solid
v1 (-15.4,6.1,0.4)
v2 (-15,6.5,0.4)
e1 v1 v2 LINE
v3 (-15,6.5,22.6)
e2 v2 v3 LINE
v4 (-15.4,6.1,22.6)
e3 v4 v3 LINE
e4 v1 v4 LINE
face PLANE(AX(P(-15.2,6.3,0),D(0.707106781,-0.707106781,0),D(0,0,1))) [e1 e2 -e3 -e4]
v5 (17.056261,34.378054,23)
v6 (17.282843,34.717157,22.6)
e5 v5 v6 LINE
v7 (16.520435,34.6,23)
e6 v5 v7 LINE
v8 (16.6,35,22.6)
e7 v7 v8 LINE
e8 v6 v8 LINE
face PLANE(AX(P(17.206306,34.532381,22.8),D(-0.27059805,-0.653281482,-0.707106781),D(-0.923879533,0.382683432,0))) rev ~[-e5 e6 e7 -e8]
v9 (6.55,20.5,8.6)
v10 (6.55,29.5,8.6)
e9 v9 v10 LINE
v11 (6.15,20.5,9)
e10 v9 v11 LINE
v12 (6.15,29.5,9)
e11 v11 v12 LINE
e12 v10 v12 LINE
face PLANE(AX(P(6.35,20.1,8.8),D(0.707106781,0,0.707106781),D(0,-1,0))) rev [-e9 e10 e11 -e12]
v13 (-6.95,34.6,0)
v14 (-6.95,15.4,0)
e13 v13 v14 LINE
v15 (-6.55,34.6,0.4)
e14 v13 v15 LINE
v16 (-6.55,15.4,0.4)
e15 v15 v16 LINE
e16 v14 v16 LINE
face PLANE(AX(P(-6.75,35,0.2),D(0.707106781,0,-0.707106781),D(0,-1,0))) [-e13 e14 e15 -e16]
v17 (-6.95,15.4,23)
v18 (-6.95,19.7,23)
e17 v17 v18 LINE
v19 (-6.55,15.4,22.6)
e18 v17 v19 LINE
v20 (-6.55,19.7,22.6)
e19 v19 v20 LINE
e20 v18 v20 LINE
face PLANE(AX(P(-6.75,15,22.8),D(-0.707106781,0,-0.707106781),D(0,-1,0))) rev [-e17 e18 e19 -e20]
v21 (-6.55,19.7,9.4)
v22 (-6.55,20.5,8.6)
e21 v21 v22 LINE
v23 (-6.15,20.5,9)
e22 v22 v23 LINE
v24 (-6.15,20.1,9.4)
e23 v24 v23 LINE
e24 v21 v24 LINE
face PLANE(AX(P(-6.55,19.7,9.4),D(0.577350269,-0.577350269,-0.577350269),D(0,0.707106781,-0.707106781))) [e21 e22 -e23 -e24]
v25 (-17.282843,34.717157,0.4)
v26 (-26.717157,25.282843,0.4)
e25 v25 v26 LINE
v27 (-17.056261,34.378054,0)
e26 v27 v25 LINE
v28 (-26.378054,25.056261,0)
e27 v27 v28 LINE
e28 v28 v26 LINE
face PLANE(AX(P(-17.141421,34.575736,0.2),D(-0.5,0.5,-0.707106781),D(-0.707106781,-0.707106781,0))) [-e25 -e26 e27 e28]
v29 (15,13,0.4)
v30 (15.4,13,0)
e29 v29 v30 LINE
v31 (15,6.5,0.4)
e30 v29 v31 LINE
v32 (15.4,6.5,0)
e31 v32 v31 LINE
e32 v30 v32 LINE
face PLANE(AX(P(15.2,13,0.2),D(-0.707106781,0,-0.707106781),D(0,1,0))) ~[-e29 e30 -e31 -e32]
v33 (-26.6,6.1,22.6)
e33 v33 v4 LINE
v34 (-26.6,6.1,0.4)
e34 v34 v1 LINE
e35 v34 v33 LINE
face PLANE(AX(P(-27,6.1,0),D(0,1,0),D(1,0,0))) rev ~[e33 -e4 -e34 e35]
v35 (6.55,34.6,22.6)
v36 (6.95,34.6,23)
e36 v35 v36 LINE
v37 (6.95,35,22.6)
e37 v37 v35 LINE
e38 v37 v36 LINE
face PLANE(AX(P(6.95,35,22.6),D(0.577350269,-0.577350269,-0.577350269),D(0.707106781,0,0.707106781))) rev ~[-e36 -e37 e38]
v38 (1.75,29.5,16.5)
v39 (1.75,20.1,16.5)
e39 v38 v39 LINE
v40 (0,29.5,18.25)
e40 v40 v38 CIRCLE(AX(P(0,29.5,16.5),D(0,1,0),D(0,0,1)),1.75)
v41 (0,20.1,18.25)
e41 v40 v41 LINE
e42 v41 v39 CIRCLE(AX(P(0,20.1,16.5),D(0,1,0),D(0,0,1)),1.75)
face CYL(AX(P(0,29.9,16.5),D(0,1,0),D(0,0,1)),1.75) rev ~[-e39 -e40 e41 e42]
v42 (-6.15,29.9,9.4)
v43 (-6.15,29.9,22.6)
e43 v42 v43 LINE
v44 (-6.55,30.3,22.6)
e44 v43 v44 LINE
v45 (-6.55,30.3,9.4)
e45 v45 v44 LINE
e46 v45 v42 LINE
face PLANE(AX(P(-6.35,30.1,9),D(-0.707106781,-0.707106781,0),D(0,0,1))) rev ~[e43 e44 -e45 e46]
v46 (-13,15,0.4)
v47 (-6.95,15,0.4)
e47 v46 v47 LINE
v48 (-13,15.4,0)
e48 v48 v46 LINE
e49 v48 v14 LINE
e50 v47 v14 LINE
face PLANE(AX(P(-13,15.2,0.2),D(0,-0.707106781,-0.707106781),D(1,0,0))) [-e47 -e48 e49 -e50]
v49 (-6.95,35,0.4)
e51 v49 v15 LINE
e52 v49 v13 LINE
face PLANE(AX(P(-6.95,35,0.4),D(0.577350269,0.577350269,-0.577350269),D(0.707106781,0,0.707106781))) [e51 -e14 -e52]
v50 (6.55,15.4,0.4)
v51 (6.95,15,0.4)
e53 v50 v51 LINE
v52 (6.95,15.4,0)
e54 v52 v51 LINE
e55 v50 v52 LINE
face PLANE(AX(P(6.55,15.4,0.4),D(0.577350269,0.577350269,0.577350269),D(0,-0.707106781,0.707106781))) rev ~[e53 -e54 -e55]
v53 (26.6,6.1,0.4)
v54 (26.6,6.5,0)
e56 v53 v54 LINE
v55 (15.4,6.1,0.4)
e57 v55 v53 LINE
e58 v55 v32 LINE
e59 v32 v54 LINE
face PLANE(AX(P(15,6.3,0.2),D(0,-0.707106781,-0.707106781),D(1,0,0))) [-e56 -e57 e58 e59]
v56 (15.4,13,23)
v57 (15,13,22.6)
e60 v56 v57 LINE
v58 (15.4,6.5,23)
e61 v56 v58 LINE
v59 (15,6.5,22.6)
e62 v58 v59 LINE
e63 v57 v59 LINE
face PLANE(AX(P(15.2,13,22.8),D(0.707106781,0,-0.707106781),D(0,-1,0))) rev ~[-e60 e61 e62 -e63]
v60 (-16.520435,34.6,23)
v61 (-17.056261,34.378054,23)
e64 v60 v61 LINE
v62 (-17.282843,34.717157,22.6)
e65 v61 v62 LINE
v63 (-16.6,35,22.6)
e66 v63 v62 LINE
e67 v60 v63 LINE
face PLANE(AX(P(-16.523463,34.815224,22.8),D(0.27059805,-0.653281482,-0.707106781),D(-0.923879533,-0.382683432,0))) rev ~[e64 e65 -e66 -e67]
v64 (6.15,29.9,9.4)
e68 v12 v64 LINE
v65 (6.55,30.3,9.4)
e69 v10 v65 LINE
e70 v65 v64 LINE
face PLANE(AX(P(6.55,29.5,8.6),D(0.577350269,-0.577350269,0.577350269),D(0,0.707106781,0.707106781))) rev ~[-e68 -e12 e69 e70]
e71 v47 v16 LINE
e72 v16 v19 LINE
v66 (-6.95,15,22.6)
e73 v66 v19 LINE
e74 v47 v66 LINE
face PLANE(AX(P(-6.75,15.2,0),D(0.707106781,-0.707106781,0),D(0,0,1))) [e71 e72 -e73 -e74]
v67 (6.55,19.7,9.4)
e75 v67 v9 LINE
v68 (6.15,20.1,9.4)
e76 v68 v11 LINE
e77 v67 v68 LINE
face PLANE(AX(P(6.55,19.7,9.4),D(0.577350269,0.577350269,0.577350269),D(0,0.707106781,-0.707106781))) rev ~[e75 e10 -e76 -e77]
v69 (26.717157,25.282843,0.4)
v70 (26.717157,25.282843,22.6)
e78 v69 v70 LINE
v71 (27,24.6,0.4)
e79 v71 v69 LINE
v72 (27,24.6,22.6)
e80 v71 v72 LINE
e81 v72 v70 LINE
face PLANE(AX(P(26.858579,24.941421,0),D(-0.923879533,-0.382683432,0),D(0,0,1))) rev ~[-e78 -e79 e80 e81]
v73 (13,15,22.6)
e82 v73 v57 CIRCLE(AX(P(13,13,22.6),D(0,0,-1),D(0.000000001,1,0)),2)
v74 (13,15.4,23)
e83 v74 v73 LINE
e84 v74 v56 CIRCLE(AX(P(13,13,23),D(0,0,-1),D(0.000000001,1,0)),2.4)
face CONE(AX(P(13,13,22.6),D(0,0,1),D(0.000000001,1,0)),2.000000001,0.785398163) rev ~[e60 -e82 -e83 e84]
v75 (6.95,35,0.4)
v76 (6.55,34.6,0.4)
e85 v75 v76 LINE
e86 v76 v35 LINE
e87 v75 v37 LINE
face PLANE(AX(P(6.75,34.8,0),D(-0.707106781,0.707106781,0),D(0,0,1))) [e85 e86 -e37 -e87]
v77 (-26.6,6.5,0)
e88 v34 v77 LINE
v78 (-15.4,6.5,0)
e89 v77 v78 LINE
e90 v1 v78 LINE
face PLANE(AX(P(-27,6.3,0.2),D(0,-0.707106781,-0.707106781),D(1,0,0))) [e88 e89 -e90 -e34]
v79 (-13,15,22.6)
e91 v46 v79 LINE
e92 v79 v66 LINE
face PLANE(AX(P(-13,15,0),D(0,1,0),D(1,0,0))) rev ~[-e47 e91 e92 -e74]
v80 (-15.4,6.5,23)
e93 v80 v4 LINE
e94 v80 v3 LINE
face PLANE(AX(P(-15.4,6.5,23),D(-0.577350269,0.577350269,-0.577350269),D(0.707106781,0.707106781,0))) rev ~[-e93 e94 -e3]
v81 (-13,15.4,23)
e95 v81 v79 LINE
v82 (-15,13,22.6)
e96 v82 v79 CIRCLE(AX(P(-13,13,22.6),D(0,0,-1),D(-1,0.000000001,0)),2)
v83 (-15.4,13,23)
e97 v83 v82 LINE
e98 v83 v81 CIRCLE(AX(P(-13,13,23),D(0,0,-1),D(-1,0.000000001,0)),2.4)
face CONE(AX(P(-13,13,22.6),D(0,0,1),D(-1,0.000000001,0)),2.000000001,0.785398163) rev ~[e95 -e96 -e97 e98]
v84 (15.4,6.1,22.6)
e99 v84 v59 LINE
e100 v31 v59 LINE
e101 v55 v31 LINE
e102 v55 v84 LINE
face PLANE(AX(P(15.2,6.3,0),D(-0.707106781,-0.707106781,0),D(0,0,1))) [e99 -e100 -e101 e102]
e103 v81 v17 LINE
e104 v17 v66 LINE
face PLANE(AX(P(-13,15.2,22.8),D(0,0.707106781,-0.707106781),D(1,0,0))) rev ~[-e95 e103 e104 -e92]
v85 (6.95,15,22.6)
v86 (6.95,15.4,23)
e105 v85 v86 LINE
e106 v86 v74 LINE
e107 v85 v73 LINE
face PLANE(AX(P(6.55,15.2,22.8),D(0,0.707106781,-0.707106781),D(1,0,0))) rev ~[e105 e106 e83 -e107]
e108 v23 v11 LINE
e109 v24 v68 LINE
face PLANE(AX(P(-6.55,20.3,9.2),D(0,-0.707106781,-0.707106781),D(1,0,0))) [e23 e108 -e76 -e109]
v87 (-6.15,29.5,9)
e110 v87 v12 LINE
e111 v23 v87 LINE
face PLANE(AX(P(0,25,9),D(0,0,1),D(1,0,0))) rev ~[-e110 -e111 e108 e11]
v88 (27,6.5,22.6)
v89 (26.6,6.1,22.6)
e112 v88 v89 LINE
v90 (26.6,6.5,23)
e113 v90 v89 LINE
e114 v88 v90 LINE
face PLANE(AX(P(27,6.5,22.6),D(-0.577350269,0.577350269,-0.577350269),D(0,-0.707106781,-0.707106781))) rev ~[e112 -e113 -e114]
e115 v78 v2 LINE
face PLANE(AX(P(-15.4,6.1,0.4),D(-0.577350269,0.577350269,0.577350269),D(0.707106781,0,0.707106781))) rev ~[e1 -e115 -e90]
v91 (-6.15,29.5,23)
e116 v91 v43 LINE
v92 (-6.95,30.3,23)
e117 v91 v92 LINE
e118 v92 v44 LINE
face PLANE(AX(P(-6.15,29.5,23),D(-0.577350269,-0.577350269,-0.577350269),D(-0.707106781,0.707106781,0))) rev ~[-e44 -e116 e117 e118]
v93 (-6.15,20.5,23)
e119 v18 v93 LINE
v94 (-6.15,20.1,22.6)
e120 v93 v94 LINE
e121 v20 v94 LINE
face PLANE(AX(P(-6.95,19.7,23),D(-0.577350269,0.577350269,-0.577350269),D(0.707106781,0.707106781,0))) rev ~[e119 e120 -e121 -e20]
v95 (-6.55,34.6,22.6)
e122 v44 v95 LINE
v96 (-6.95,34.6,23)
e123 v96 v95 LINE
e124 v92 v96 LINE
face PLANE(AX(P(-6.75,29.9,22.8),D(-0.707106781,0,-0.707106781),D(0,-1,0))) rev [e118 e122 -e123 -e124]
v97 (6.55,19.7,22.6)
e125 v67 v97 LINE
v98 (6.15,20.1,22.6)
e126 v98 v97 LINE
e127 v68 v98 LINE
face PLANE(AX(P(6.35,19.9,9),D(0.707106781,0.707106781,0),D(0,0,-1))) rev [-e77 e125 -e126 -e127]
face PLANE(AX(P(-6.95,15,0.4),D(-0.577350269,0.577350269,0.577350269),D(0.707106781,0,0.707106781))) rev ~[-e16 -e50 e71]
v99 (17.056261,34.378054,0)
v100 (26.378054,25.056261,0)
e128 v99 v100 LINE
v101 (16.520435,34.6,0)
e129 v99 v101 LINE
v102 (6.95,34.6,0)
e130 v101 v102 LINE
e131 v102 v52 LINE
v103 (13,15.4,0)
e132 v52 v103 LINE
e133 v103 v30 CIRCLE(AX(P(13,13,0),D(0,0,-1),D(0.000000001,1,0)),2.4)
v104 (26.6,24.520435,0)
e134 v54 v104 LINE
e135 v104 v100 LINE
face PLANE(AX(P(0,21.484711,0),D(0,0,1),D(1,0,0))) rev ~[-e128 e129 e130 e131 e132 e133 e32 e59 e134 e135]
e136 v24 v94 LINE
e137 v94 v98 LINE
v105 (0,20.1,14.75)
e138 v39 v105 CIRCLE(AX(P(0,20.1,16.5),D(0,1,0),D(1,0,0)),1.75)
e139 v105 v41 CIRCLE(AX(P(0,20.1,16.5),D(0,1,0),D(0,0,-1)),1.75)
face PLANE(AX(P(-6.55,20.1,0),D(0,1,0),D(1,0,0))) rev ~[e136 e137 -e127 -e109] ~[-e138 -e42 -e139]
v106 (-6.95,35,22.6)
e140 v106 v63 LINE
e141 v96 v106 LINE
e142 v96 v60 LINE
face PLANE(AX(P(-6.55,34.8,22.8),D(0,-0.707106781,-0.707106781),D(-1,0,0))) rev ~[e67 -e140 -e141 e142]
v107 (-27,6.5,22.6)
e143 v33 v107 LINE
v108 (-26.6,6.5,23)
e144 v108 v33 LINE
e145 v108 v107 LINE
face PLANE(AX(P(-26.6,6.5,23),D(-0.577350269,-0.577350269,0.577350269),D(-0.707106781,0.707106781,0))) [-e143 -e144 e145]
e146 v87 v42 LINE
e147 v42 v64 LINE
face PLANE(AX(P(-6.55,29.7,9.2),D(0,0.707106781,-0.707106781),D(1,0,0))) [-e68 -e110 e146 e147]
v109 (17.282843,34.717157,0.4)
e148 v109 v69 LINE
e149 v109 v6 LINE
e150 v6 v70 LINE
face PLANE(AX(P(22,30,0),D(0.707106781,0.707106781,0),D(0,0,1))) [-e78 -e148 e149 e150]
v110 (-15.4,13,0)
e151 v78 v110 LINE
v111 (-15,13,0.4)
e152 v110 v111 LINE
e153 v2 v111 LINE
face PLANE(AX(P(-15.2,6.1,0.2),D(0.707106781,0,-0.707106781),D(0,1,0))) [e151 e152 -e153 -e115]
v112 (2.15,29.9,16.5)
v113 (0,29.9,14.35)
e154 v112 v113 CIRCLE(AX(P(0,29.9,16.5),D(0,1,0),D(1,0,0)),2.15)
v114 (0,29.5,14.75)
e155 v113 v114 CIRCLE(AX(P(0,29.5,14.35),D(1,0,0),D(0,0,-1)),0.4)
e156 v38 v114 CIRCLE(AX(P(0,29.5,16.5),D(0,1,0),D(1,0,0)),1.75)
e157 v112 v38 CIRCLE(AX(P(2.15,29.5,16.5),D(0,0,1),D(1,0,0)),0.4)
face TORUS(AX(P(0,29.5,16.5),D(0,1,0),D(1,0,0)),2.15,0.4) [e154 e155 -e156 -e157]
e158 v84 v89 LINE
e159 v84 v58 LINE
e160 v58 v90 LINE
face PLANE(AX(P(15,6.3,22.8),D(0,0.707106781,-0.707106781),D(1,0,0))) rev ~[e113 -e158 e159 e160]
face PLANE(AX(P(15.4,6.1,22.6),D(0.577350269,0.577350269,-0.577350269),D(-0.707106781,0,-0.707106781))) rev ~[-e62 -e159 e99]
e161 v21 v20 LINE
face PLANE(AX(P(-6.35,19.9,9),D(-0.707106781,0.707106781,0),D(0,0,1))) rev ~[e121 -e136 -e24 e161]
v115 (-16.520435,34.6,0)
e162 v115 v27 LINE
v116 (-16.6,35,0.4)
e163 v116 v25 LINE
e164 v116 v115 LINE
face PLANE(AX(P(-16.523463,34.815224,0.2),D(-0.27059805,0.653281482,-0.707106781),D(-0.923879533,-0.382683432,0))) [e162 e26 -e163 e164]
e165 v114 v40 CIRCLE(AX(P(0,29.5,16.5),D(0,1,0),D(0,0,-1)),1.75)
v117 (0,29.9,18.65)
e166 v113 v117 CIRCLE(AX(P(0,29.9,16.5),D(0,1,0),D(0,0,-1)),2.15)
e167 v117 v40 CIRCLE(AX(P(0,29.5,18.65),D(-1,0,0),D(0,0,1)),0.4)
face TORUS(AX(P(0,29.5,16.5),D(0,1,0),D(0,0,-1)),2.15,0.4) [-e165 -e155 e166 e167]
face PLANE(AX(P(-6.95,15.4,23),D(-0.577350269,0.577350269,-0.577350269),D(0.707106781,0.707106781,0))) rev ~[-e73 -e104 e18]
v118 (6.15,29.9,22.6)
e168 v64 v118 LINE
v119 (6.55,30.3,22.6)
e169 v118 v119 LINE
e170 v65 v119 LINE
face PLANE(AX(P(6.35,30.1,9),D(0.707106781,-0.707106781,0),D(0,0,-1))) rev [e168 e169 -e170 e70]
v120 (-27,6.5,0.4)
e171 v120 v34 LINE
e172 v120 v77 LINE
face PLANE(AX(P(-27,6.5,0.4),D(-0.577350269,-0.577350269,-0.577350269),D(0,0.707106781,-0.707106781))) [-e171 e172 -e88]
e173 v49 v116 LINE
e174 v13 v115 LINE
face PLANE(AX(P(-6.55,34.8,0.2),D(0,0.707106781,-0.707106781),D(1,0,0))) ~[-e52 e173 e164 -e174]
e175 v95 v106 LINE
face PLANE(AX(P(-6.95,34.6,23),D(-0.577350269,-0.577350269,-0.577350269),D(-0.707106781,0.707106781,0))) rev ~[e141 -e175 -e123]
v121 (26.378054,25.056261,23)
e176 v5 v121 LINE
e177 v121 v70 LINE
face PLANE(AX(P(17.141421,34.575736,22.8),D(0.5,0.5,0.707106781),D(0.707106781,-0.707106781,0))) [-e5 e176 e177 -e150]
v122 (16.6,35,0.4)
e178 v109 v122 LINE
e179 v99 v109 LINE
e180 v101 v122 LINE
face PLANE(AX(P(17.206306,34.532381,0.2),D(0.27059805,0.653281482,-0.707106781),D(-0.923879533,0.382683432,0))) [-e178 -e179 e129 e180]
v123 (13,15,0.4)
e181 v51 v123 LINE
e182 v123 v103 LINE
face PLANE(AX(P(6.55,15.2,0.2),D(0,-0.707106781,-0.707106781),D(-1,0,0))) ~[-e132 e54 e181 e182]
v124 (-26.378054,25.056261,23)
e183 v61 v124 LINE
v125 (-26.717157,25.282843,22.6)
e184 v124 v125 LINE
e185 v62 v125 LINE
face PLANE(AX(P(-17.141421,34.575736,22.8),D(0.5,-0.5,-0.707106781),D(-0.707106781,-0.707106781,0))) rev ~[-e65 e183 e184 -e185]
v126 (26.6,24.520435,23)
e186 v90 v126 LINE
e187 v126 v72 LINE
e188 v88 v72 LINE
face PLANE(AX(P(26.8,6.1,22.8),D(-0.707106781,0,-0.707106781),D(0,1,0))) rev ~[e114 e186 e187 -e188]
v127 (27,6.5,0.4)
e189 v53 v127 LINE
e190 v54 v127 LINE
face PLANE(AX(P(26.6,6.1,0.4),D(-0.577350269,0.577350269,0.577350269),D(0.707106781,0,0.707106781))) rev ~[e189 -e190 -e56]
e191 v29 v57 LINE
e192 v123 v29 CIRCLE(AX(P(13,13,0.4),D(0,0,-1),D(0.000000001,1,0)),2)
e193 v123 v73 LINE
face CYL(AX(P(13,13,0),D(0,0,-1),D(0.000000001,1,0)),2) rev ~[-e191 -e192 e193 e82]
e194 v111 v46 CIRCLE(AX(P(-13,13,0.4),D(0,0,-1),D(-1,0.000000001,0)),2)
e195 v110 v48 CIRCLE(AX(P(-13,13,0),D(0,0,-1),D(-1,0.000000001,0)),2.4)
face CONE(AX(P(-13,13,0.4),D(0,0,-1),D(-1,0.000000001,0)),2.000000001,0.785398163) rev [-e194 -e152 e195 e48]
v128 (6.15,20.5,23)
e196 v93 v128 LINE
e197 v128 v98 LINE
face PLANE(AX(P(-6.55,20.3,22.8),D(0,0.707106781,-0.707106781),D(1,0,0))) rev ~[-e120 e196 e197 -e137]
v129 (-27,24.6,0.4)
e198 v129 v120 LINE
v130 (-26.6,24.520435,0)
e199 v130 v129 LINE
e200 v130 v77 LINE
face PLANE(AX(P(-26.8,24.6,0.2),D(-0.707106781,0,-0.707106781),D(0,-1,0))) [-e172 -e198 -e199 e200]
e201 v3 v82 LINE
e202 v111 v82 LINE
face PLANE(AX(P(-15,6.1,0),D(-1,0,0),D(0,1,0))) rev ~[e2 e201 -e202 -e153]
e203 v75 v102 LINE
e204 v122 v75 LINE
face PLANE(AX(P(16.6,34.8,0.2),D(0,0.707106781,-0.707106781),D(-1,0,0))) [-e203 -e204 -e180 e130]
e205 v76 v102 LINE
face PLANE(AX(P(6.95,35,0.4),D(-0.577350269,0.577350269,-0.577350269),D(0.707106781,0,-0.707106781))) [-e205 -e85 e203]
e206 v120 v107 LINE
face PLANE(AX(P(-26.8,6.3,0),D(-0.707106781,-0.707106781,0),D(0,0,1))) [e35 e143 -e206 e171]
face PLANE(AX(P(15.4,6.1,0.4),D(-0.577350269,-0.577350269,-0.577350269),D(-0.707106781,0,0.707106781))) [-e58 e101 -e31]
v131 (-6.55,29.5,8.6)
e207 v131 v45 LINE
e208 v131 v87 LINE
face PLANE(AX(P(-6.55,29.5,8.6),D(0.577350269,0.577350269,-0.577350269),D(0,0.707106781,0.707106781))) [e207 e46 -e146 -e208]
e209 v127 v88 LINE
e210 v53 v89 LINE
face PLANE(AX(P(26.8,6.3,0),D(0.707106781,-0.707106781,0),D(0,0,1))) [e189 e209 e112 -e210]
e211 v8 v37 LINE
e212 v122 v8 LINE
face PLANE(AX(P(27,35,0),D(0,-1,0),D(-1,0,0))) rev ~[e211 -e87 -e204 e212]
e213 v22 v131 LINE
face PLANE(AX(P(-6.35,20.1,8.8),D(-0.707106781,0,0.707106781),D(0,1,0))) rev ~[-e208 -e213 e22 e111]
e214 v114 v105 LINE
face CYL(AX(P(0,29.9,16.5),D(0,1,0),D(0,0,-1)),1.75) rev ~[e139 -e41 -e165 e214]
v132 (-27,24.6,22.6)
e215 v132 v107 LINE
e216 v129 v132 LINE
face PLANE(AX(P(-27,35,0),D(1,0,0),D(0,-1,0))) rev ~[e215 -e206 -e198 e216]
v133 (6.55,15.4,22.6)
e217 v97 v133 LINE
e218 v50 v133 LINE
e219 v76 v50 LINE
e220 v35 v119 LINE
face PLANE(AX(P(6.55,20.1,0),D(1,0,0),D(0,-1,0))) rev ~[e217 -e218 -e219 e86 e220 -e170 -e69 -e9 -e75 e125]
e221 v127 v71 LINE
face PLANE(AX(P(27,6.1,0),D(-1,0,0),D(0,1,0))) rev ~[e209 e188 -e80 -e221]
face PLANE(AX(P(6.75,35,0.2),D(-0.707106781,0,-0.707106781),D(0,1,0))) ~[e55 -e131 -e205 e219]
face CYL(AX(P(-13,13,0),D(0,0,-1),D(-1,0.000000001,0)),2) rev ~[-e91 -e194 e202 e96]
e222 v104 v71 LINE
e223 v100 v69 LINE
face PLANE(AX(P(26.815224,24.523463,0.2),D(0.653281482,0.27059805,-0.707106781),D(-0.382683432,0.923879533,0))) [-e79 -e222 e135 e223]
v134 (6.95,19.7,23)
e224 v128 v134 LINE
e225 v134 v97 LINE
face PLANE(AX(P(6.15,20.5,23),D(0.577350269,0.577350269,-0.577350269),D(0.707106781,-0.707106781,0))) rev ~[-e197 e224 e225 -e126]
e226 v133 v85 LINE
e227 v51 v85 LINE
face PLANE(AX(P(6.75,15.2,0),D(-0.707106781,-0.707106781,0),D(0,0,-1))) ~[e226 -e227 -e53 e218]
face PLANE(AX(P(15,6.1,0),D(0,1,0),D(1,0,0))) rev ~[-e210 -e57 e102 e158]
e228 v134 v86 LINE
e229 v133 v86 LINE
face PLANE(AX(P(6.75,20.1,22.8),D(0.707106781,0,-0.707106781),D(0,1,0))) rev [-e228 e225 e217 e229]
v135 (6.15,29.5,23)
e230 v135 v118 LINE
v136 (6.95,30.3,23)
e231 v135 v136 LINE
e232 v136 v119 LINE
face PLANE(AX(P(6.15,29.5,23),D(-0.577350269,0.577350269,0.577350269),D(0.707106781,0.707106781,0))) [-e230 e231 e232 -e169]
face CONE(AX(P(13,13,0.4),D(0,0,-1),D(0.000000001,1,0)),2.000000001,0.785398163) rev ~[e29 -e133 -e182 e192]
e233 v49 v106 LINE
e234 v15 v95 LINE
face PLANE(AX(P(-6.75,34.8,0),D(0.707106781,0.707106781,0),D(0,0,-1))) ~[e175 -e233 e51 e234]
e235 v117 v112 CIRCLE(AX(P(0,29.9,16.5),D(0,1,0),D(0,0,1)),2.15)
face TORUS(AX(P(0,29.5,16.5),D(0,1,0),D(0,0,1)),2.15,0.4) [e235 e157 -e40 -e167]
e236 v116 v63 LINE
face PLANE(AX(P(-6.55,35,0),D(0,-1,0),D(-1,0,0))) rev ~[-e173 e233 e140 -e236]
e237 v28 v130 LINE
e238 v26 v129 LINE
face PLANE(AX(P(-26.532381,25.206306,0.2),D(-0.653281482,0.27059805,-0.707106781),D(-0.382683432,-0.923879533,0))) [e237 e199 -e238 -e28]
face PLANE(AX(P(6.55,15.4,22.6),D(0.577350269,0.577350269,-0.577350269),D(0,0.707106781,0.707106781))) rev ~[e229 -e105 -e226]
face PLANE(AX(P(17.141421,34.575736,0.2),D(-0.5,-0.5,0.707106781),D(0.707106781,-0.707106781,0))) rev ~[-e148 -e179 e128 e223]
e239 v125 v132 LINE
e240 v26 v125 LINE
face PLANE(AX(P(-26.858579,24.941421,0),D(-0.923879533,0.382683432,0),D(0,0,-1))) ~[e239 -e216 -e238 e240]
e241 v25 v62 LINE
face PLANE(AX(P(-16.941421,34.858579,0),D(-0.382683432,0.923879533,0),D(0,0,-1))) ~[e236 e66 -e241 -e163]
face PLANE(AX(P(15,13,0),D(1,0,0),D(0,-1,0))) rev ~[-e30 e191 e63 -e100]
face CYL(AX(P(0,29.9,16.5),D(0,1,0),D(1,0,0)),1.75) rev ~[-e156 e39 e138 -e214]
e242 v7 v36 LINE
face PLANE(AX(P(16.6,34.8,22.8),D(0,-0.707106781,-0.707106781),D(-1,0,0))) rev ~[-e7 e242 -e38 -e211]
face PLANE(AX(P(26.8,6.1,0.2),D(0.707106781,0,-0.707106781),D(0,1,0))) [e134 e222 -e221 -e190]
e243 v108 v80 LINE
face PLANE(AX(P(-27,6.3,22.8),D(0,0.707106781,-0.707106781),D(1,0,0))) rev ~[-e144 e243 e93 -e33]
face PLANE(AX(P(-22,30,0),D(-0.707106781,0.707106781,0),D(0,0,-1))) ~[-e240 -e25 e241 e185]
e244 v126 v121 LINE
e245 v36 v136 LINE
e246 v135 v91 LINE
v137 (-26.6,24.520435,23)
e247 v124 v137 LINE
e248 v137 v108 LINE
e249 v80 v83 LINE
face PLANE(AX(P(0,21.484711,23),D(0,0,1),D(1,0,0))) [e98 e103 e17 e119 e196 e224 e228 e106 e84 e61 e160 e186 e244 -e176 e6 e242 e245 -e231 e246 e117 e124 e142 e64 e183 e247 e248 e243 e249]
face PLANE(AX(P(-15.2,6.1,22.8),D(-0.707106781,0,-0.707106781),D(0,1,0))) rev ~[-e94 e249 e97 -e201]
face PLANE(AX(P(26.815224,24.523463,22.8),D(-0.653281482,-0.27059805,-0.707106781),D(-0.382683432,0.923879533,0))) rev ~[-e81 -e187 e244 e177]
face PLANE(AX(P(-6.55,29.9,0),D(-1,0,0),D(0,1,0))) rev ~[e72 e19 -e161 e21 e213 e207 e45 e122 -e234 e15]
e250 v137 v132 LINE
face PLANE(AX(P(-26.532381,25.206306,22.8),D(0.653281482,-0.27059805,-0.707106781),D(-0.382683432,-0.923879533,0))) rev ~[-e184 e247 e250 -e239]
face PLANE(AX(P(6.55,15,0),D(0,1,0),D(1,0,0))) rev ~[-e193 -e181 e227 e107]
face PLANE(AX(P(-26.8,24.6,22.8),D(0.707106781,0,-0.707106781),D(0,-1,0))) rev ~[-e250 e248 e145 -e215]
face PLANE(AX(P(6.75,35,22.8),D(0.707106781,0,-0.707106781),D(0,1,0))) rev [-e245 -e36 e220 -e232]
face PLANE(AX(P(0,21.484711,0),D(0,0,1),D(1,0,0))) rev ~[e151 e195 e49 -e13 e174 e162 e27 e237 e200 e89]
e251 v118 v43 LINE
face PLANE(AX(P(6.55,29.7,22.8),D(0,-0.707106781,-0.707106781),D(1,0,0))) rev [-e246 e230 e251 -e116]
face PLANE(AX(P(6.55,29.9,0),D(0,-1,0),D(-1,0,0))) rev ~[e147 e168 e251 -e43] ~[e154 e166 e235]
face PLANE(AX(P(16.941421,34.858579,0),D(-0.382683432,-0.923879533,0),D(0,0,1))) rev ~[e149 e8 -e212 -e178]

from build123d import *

# Parameters (mm, degrees)
BOSS_EXTRUDE1_DEPTH = 23
SKETCH1_4_W         = 13.1
SKETCH1_4_H         = 9.8
CUT_EXTRUDE1_DEPTH  = 9
CHAMFER4_SIZE       = 10
CHAMFER6_SIZE       = 0.4
CUT_EXTRUDE5_DEPTH  = 43.713463919
FILLET1_R           = 0.4
CHAMFER7_SIZE       = 0.4


with BuildPart() as part:
    # Sketch1 → Boss-Extrude1 (new body)
    with BuildSketch(Plane.XY):
        with BuildLine():
            Line((-27, 6.1), (-15, 6.1))
            Line((-15, 6.1), (-15, 13))
            ThreePointArc((-15, 13), (-14.414213562, 14.414213562), (-13, 15))
            Line((-13, 15), (-6.55, 15))
            Line((-6.55, 15), (-6.55, 20.1))
            Line((-6.55, 20.1), (6.55, 20.1))
            Line((6.55, 20.1), (6.55, 15))
            Line((6.55, 15), (13, 15))
            ThreePointArc((13, 15), (14.414213562, 14.414213562), (15, 13))
            Line((15, 13), (15, 6.1))
            Line((15, 6.1), (27, 6.1))
            Line((27, 6.1), (27, 35))
            Line((27, 35), (6.55, 35))
            Line((6.55, 35), (6.55, 29.9))
            Line((6.55, 29.9), (-6.55, 29.9))
            Line((-6.55, 29.9), (-6.55, 35))
            Line((-6.55, 35), (-27, 35))
            Line((-27, 35), (-27, 6.1))
        make_face()
    extrude(amount=BOSS_EXTRUDE1_DEPTH)

    # Sketch1<4> → Cut-Extrude1 (cut)
    with BuildSketch(Plane.XY):
        with Locations((0, 25)):
            Rectangle(SKETCH1_4_W, SKETCH1_4_H)
    extrude(amount=CUT_EXTRUDE1_DEPTH, mode=Mode.SUBTRACT)

    # Chamfer4
    chamfer4_edges = [part.edges().sort_by_distance(p)[0] for p in [
        (-27, 35, 11.5),
        (27, 35, 11.5),
    ]]
    chamfer(chamfer4_edges, length=CHAMFER4_SIZE)

    # Chamfer6
    chamfer6_edges = [part.edges().sort_by_distance(p)[0] for p in [
        (17, 35, 11.5),
        (27, 25, 11.5),
        (-27, 25, 11.5),
        (-17, 35, 11.5),
    ]]
    chamfer(chamfer6_edges, length=CHAMFER6_SIZE)

    # Sketch6 → Cut-Extrude5 (cut, through all)
    with BuildSketch(Plane(origin=(0, 29.9, 0), x_dir=(1, 0, 0), z_dir=(0, 1, 0))):
        with BuildLine():
            ThreePointArc((1.75, -16.5), (1.237436867, -15.262563133), (0, -14.75))
            Line((0, -14.75), (0, -18.25))
            ThreePointArc((0, -18.25), (1.237436867, -17.737436867), (1.75, -16.5))
        make_face()
        with BuildLine():
            Line((0, -18.25), (0, -14.75))
            ThreePointArc((0, -14.75), (-1.75, -16.5), (0, -18.25))
        make_face()
    extrude(amount=-CUT_EXTRUDE5_DEPTH, mode=Mode.SUBTRACT)

    # Fillet1
    fillet1_edges = [part.edges().sort_by_distance(p)[0] for p in [
        (0, 29.9, 14.75),
    ]]
    fillet(fillet1_edges, radius=FILLET1_R)

    # Chamfer7
    chamfer7_edges = [part.edges().sort_by_distance(p)[0] for p in [
        (15, 9.55, 23),
        (16.941421356, 34.858578644, 0),
        (21, 6.1, 23),
        (27, 15.35, 23),
        (9.775, 15, 0),
        (6.55, 25, 0),
        (-6.55, 25, 0),
        (-9.775, 15, 0),
        (-14.414213562, 14.414213562, 0),
        (-15, 9.55, 0),
        (-21, 6.1, 0),
        (-11.575, 35, 0),
        (27, 15.35, 0),
        (21, 6.1, 0),
        (15, 9.55, 0),
        (14.414213562, 14.414213562, 0),
        (6.55, 32.45, 23),
        (6.55, 15, 11.5),
        (6.55, 20.1, 16),
        (-6.55, 20.1, 16),
        (-6.55, 15, 11.5),
        (-15, 6.1, 11.5),
        (-27, 6.1, 11.5),
        (-6.55, 35, 11.5),
        (-6.55, 29.9, 16),
        (6.55, 29.9, 16),
        (6.55, 35, 11.5),
        (27, 6.1, 11.5),
        (15, 6.1, 11.5),
        (0, 29.9, 23),
        (-6.55, 32.45, 23),
        (-11.575, 35, 23),
        (14.414213562, 14.414213562, 23),
        (-21, 6.1, 23),
        (0, 29.9, 9),
        (6.55, 25, 9),
        (-6.55, 25, 9),
        (0, 20.1, 9),
        (-15, 9.55, 23),
        (-14.414213562, 14.414213562, 23),
        (-9.775, 15, 23),
        (-6.55, 17.55, 23),
        (0, 20.1, 23),
        (-27, 15.35, 23),
        (-27, 15.35, 0),
        (6.55, 17.55, 23),
        (-22, 30, 0),
        (-16.941421356, 34.858578644, 0),
        (-26.858578644, 24.941421356, 0),
        (-22, 30, 23),
        (22, 30, 23),
        (9.775, 15, 23),
        (11.575, 35, 23),
        (26.858578644, 24.941421356, 23),
        (16.941421356, 34.858578644, 23),
        (-16.941421356, 34.858578644, 23),
        (-26.858578644, 24.941421356, 23),
        (11.575, 35, 0),
        (22, 30, 0),
        (26.858578644, 24.941421356, 0),
    ]]
    chamfer(chamfer7_edges, length=CHAMFER7_SIZE)


solid = part.part
